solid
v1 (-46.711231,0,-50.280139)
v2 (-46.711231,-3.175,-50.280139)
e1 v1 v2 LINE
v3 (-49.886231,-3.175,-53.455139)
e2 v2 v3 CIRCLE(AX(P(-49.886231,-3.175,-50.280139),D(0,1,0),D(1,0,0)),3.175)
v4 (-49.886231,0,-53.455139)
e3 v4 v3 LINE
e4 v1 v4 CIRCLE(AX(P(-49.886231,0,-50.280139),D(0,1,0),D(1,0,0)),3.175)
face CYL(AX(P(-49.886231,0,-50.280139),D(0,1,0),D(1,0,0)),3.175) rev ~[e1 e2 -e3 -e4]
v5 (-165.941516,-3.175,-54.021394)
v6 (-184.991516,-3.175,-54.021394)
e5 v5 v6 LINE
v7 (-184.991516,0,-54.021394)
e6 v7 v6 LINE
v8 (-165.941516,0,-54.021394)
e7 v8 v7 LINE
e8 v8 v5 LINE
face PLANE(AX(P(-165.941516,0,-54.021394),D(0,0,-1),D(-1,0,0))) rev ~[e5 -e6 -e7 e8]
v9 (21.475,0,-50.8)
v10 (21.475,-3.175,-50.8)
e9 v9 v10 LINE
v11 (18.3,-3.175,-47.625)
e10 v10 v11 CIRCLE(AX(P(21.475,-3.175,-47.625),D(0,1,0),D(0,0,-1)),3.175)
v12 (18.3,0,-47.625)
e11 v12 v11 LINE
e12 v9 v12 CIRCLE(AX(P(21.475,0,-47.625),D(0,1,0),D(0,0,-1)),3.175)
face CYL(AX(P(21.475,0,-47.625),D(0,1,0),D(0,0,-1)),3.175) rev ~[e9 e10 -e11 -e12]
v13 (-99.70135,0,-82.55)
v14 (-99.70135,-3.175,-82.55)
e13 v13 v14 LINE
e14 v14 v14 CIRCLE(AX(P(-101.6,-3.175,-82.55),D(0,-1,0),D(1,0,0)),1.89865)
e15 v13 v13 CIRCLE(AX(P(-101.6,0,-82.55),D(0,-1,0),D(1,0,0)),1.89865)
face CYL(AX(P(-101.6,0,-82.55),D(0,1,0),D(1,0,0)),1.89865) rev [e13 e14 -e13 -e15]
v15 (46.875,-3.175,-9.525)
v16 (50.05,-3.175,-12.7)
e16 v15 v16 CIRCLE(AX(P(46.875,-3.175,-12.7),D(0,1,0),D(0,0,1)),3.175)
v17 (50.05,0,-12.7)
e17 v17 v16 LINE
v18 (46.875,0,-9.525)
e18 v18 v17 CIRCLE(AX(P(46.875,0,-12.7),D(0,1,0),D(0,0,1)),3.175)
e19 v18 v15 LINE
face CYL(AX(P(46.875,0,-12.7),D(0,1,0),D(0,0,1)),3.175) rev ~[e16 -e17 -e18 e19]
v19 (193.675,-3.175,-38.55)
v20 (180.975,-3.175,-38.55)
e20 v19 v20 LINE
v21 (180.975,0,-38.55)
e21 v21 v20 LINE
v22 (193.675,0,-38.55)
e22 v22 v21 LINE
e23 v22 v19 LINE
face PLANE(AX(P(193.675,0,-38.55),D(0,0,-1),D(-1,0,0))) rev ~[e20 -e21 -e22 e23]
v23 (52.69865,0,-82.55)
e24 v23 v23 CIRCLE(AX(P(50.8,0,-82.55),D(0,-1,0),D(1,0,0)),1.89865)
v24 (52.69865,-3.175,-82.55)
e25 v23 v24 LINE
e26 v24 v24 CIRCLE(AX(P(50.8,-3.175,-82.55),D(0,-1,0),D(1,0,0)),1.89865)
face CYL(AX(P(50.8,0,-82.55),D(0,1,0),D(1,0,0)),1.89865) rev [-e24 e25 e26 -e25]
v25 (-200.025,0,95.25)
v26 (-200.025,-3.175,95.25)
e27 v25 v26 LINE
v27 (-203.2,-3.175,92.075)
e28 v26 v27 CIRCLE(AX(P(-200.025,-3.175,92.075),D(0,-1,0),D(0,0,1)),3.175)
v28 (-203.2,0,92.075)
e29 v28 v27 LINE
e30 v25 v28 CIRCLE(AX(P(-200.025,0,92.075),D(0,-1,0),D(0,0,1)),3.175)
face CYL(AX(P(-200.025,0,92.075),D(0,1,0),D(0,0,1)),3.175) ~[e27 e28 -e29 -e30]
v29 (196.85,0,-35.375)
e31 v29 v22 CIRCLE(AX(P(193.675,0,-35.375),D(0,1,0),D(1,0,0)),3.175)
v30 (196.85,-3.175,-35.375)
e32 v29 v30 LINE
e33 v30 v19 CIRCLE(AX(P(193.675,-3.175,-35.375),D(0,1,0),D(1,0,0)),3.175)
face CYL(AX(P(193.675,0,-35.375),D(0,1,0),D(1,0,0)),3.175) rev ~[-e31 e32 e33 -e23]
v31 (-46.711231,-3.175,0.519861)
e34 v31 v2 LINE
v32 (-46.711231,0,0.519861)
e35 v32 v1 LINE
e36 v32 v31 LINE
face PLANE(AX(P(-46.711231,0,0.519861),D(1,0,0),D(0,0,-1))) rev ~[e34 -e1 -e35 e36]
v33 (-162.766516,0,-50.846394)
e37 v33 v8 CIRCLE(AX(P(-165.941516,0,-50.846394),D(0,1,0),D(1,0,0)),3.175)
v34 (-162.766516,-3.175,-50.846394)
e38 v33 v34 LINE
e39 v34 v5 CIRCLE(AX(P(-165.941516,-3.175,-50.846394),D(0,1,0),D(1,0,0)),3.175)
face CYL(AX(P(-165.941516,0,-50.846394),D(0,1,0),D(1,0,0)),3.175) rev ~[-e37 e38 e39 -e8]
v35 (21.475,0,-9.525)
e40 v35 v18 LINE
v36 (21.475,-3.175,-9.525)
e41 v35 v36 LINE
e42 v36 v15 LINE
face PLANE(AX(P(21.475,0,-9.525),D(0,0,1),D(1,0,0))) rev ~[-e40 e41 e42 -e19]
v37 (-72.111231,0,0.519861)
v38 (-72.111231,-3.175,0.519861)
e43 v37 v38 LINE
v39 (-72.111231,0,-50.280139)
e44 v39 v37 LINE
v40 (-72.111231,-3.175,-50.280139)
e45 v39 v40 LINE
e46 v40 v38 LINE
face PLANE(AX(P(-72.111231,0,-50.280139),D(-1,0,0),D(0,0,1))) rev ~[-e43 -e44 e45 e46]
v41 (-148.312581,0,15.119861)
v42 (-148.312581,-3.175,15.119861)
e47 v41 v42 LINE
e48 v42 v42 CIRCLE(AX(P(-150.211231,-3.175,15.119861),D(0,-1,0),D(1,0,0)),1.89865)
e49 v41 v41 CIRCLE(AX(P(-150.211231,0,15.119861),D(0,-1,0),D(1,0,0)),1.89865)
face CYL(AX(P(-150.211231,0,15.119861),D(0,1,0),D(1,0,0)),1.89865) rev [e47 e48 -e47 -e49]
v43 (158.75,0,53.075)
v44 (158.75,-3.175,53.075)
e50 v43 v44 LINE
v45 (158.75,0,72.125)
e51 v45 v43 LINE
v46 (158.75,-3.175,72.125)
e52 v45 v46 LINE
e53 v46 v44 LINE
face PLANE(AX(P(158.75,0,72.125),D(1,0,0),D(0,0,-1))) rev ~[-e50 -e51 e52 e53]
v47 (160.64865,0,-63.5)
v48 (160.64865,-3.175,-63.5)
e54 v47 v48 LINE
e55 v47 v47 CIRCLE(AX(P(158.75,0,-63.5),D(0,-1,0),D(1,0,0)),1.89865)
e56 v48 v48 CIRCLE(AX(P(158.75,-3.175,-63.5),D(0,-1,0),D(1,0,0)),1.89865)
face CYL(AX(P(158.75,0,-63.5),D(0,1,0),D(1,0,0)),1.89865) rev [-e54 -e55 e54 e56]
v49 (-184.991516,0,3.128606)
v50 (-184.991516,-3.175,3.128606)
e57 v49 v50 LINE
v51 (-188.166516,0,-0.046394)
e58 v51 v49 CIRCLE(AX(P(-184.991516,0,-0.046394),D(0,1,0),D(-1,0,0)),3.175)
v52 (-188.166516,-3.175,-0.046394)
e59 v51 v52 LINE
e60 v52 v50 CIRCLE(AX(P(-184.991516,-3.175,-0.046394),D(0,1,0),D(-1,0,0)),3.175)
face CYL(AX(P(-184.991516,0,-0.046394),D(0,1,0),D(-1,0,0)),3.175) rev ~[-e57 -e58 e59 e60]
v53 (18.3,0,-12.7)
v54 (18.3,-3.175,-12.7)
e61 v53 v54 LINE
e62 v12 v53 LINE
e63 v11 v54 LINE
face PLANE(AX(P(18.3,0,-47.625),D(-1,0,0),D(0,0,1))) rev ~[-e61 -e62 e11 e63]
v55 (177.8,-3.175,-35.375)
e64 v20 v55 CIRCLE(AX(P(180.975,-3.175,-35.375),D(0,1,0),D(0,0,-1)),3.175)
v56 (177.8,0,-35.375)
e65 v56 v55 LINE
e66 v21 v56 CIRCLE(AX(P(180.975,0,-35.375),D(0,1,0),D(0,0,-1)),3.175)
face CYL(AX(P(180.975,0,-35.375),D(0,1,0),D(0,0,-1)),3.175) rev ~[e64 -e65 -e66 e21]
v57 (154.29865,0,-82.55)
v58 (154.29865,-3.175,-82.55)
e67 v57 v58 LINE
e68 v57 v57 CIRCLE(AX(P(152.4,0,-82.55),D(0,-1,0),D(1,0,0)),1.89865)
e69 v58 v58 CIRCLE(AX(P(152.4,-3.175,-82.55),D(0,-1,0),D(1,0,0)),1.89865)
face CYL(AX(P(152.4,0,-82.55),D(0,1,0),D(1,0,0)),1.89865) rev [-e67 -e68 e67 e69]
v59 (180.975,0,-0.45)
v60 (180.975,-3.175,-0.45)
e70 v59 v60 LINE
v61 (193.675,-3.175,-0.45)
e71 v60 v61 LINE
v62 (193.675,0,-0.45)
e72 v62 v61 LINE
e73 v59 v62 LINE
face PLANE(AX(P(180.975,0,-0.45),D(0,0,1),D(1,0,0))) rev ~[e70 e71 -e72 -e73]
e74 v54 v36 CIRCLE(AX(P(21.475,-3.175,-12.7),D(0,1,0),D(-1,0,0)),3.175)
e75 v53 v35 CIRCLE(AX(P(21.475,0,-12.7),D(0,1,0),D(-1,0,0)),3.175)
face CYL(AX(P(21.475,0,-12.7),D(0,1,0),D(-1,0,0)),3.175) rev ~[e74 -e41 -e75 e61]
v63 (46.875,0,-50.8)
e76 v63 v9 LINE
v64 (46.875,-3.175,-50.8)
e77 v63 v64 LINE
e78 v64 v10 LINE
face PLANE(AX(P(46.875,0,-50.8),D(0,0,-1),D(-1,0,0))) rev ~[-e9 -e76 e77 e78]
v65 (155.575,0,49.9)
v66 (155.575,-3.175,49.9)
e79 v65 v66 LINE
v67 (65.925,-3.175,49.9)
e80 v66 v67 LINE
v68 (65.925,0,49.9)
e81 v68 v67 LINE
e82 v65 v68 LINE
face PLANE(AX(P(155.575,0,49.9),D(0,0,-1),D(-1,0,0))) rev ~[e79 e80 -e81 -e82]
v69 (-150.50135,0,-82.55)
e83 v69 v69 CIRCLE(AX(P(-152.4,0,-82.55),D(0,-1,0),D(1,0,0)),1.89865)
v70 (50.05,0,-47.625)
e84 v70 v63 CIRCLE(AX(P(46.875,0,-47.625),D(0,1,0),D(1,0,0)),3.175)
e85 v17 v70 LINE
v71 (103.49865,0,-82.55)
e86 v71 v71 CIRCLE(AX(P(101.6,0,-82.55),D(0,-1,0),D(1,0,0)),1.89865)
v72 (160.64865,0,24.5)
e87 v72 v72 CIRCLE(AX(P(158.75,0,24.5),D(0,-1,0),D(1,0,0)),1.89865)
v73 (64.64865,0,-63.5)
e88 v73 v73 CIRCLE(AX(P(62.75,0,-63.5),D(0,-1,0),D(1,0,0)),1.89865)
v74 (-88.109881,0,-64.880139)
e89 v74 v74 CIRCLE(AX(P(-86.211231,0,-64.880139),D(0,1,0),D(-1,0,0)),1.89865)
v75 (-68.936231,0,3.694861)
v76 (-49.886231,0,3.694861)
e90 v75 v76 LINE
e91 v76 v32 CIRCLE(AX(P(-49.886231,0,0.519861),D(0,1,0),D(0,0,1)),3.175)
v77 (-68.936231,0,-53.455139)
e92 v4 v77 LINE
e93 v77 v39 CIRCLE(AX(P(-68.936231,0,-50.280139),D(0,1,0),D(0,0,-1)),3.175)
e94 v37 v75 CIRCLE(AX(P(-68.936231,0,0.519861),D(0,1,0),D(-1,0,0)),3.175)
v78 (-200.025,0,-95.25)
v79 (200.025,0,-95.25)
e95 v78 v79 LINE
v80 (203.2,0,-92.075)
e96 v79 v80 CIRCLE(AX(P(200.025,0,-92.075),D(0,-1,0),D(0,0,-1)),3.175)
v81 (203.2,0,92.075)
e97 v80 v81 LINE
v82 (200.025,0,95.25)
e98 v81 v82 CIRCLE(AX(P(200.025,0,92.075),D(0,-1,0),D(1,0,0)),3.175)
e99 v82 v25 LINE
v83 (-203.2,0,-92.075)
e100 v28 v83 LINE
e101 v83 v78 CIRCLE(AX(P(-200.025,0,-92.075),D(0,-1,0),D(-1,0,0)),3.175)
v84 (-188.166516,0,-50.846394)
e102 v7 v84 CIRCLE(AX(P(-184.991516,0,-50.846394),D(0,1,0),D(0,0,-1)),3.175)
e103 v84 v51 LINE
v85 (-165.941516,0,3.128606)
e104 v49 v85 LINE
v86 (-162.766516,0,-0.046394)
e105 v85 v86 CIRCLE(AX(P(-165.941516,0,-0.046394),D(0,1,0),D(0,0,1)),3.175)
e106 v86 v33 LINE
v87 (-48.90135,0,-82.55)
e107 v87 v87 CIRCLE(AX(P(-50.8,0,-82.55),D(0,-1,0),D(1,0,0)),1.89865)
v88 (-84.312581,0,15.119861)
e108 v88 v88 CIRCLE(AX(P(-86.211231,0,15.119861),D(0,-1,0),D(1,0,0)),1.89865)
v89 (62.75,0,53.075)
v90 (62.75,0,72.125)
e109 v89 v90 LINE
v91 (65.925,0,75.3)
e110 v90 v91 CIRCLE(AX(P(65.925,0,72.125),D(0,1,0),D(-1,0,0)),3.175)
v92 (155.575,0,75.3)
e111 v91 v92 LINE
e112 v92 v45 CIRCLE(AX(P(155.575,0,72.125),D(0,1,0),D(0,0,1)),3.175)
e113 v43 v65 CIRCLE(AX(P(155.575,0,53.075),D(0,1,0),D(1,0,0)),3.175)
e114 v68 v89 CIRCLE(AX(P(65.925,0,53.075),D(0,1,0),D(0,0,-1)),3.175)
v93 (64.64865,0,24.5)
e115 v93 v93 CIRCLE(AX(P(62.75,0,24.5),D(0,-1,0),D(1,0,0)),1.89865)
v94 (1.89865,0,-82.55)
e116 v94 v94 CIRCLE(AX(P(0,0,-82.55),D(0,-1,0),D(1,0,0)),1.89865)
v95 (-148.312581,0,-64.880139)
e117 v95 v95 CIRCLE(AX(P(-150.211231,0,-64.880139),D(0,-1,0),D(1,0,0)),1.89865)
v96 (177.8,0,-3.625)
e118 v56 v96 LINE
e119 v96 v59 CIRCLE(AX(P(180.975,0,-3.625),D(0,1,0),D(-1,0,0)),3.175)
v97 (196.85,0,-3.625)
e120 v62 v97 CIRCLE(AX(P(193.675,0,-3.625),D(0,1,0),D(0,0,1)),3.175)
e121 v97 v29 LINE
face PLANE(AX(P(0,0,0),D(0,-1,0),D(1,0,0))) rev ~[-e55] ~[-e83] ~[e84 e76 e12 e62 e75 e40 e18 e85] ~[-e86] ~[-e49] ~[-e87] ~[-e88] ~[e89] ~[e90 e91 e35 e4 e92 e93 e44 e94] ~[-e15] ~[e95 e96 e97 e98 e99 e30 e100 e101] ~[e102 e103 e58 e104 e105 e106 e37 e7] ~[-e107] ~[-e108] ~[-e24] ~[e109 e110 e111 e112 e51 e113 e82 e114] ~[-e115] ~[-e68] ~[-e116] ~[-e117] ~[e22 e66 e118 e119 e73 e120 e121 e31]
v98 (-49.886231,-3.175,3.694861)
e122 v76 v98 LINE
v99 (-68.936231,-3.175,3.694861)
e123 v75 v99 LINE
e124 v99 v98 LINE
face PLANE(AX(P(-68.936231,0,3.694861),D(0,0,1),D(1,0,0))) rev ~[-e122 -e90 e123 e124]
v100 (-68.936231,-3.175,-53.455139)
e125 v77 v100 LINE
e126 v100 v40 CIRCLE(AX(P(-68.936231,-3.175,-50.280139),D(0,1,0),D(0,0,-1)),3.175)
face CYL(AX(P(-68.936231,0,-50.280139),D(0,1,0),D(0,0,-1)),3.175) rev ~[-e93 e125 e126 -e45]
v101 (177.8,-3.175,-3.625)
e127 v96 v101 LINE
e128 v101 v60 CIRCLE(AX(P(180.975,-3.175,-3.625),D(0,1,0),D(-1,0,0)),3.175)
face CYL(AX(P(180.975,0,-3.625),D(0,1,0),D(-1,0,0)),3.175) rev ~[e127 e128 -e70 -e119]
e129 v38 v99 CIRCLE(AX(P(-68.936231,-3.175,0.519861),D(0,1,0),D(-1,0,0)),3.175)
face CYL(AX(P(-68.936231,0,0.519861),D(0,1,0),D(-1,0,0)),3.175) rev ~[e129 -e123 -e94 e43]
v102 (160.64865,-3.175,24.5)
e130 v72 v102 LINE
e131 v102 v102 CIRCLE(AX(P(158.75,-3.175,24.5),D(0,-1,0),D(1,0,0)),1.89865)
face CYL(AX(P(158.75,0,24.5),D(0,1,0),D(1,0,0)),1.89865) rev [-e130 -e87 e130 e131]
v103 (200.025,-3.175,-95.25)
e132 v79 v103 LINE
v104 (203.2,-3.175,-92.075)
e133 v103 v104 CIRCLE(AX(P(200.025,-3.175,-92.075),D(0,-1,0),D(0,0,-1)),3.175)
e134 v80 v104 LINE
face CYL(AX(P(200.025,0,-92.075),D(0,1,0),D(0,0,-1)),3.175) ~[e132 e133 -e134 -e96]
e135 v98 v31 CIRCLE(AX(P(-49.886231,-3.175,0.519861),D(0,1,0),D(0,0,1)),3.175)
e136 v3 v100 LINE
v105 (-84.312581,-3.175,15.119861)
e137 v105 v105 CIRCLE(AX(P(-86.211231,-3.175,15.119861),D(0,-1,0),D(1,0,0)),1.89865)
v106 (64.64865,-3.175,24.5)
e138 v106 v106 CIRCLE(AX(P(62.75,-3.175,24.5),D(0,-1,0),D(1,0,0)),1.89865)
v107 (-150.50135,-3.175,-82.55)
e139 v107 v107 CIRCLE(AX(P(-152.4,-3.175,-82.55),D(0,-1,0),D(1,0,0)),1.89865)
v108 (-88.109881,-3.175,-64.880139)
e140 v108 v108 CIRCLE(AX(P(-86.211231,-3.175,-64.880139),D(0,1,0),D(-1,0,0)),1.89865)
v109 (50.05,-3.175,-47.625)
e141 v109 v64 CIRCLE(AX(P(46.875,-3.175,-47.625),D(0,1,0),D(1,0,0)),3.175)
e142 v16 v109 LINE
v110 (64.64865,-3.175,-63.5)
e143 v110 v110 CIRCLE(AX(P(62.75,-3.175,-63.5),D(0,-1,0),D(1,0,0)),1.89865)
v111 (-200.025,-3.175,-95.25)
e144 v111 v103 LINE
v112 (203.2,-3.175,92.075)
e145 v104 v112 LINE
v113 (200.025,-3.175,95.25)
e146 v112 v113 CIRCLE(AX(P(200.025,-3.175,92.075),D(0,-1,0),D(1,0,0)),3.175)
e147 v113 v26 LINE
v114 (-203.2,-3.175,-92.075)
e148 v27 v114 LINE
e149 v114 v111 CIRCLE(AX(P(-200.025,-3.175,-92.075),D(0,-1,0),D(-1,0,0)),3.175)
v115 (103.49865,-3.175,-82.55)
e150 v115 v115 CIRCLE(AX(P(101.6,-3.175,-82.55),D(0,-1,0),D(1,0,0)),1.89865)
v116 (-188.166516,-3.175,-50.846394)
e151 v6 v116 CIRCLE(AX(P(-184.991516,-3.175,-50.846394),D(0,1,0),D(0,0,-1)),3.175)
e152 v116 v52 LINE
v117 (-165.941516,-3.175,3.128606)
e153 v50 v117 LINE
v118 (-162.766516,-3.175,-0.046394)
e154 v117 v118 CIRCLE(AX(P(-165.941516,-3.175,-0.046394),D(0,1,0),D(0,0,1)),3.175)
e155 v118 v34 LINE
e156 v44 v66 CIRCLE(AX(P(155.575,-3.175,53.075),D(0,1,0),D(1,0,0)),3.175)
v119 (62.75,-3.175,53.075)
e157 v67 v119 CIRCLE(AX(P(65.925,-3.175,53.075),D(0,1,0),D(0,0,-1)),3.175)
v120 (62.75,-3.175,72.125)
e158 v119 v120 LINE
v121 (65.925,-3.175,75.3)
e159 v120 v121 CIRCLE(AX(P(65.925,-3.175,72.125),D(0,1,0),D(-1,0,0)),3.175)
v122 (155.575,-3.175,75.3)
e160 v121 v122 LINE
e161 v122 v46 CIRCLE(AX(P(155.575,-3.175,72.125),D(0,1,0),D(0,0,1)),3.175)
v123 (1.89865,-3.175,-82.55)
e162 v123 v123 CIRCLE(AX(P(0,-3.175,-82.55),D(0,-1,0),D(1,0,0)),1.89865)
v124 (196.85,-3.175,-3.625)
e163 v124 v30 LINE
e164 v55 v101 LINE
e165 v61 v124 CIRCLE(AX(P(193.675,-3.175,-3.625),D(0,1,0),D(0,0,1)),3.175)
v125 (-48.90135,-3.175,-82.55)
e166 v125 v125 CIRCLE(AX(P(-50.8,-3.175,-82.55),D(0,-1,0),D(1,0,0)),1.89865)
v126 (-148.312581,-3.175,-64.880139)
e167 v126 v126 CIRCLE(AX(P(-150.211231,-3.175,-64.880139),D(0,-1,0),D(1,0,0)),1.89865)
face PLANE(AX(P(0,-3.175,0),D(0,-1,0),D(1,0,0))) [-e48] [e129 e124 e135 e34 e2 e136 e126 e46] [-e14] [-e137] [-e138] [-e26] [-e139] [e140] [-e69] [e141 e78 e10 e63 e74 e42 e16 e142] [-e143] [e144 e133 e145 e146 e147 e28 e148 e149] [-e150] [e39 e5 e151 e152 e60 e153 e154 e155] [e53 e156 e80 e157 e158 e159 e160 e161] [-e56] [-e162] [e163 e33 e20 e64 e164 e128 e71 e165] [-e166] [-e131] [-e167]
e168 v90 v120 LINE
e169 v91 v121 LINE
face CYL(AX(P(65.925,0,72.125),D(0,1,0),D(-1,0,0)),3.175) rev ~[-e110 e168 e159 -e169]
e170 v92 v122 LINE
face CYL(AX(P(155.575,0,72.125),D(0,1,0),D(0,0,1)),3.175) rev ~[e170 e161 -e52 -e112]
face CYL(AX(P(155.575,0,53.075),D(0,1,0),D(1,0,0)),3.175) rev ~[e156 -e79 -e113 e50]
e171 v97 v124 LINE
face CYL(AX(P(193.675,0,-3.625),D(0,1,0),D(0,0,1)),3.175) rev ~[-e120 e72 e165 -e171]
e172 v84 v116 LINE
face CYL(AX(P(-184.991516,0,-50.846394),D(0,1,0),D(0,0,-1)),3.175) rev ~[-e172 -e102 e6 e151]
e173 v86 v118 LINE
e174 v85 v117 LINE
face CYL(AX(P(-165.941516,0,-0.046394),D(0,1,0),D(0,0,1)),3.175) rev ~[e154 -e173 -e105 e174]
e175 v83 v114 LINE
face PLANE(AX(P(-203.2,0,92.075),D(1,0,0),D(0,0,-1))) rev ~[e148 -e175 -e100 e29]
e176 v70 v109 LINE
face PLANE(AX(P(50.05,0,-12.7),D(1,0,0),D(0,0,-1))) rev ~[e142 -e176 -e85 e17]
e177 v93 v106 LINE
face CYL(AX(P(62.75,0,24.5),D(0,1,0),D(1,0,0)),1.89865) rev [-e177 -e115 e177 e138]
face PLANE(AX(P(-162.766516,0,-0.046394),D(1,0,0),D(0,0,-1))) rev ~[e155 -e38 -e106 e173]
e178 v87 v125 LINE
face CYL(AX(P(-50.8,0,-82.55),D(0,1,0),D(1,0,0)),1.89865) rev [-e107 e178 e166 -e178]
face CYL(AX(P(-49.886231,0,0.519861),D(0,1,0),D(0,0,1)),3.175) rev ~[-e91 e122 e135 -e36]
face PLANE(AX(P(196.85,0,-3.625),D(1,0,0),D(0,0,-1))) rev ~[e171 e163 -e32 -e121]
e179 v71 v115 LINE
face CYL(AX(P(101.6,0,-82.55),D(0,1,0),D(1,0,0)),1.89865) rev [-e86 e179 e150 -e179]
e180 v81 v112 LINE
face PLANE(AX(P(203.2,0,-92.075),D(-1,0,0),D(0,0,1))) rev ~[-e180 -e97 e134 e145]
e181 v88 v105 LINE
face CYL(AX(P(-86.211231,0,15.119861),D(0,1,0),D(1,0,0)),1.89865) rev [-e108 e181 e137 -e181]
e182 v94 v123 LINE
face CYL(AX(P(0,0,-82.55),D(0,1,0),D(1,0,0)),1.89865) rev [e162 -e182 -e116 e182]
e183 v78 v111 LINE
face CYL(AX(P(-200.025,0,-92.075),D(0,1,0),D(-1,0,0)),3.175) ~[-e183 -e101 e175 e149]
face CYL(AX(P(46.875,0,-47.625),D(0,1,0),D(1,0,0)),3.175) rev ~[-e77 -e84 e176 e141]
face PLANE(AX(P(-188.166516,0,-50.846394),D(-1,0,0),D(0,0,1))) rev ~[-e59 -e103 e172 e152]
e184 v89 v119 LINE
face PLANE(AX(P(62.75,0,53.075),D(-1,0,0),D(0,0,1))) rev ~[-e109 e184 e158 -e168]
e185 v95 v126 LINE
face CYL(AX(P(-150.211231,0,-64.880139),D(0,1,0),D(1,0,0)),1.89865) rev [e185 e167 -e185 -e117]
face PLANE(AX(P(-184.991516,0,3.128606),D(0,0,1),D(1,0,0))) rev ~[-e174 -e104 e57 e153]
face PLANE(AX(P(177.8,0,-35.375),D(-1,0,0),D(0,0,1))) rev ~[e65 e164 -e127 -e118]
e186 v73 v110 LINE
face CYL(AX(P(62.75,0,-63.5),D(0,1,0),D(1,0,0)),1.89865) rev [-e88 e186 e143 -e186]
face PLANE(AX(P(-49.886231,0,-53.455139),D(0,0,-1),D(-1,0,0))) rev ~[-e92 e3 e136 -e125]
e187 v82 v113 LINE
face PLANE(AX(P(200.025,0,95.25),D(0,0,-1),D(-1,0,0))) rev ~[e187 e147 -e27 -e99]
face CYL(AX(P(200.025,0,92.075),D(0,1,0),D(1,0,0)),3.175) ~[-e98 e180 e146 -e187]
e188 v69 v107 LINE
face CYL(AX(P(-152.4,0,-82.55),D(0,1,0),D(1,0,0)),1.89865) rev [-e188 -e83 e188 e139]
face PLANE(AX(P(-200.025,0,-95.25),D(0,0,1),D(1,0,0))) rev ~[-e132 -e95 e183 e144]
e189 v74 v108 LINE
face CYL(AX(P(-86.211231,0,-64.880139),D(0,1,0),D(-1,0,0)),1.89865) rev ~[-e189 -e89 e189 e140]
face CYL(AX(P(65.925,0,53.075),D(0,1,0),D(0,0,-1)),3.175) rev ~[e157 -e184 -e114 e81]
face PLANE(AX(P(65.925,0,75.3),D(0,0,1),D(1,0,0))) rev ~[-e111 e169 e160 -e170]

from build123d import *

# Parameters (mm, degrees)
F0_R     = 1.89865
F1_DEPTH = 3.175


with BuildPart() as f1:
    # F0 (on Front) → F1 (new body)
    with BuildSketch(Plane.XZ):
        with BuildLine():
            Line((200.025, 95.25), (-200.025, 95.25))
            ThreePointArc((-200.025, 95.25), (-202.2700640303, 94.3200640303), (-203.2, 92.075))
            Line((-203.2, 92.075), (-203.2, -92.075))
            ThreePointArc((-203.2, -92.075), (-202.2700640303, -94.3200640303), (-200.025, -95.25))
            Line((-200.025, -95.25), (200.025, -95.25))
            ThreePointArc((200.025, -95.25), (202.2700640303, -94.3200640303), (203.2, -92.075))
            Line((203.2, -92.075), (203.2, 92.075))
            ThreePointArc((203.2, 92.075), (202.2700640303, 94.3200640303), (200.025, 95.25))
        make_face()
        with Locations((-152.4, -82.55)):
            Circle(F0_R, mode=Mode.SUBTRACT)
        with Locations((-101.6, -82.55)):
            Circle(F0_R, mode=Mode.SUBTRACT)
        with Locations((-150.2112307024, -64.8801388249)):
            Circle(F0_R, mode=Mode.SUBTRACT)
        with Locations((-50.8, -82.55)):
            Circle(F0_R, mode=Mode.SUBTRACT)
        with Locations((0, -82.55)):
            Circle(F0_R, mode=Mode.SUBTRACT)
        with BuildLine():
            ThreePointArc((-84.3125807024, -64.8801388249), (-86.2112307024, -66.7787888249), (-88.1098807024, -64.8801388249))
            ThreePointArc((-88.1098807024, -64.8801388249), (-86.2112307024, -62.9814888249), (-84.3125807024, -64.8801388249))
        make_face(mode=Mode.SUBTRACT)
        with BuildLine():
            ThreePointArc((-188.1665156039, -0.0463944584), (-187.2365796342, 2.1986695719), (-184.9915156039, 3.1286055416))
            Line((-184.9915156039, 3.1286055416), (-165.9415156039, 3.1286055416))
            ThreePointArc((-165.9415156039, 3.1286055416), (-163.6964515737, 2.1986695719), (-162.7665156039, -0.0463944584))
            Line((-162.7665156039, -0.0463944584), (-162.7665156039, -50.8463944584))
            ThreePointArc((-162.7665156039, -50.8463944584), (-163.6964515737, -53.0914584887), (-165.9415156039, -54.0213944584))
            Line((-165.9415156039, -54.0213944584), (-184.9915156039, -54.0213944584))
            ThreePointArc((-184.9915156039, -54.0213944584), (-187.2365796342, -53.0914584887), (-188.1665156039, -50.8463944584))
            Line((-188.1665156039, -50.8463944584), (-188.1665156039, -0.0463944584))
        make_face(mode=Mode.SUBTRACT)
        with BuildLine():
            ThreePointArc((-72.1112307024, 0.5198611751), (-71.1812947327, 2.7649252054), (-68.9362307024, 3.6948611751))
            Line((-68.9362307024, 3.6948611751), (-49.8862307024, 3.6948611751))
            ThreePointArc((-49.8862307024, 3.6948611751), (-47.6411666721, 2.7649252054), (-46.7112307024, 0.5198611751))
            Line((-46.7112307024, 0.5198611751), (-46.7112307024, -50.2801388249))
            ThreePointArc((-46.7112307024, -50.2801388249), (-47.6411666721, -52.5252028551), (-49.8862307024, -53.4551388249))
            Line((-49.8862307024, -53.4551388249), (-68.9362307024, -53.4551388249))
            ThreePointArc((-68.9362307024, -53.4551388249), (-71.1812947327, -52.5252028551), (-72.1112307024, -50.2801388249))
            Line((-72.1112307024, -50.2801388249), (-72.1112307024, 0.5198611751))
        make_face(mode=Mode.SUBTRACT)
        with Locations((50.8, -82.55)):
            Circle(F0_R, mode=Mode.SUBTRACT)
        with Locations((101.6, -82.55)):
            Circle(F0_R, mode=Mode.SUBTRACT)
        with Locations((62.75, -63.5)):
            Circle(F0_R, mode=Mode.SUBTRACT)
        with Locations((152.4, -82.55)):
            Circle(F0_R, mode=Mode.SUBTRACT)
        with Locations((158.75, -63.5)):
            Circle(F0_R, mode=Mode.SUBTRACT)
        with BuildLine():
            ThreePointArc((18.3, -12.7), (19.2299359697, -10.4549359697), (21.475, -9.525))
            Line((21.475, -9.525), (46.875, -9.525))
            ThreePointArc((46.875, -9.525), (49.1200640303, -10.4549359697), (50.05, -12.7))
            Line((50.05, -12.7), (50.05, -47.625))
            ThreePointArc((50.05, -47.625), (49.1200640303, -49.8700640303), (46.875, -50.8))
            Line((46.875, -50.8), (21.475, -50.8))
            ThreePointArc((21.475, -50.8), (19.2299359697, -49.8700640303), (18.3, -47.625))
            Line((18.3, -47.625), (18.3, -12.7))
        make_face(mode=Mode.SUBTRACT)
        with BuildLine():
            ThreePointArc((196.85, -35.375), (195.9200640303, -37.6200640303), (193.675, -38.55))
            Line((193.675, -38.55), (180.975, -38.55))
            ThreePointArc((180.975, -38.55), (178.7299359697, -37.6200640303), (177.8, -35.375))
            Line((177.8, -35.375), (177.8, -3.625))
            ThreePointArc((177.8, -3.625), (178.7299359697, -1.3799359697), (180.975, -0.45))
            Line((180.975, -0.45), (193.675, -0.45))
            ThreePointArc((193.675, -0.45), (195.9200640303, -1.3799359697), (196.85, -3.625))
            Line((196.85, -3.625), (196.85, -35.375))
        make_face(mode=Mode.SUBTRACT)
        with Locations((-150.2112307024, 15.1198611751)):
            Circle(F0_R, mode=Mode.SUBTRACT)
        with Locations((-86.2112307024, 15.1198611751)):
            Circle(F0_R, mode=Mode.SUBTRACT)
        with Locations((62.75, 24.5)):
            Circle(F0_R, mode=Mode.SUBTRACT)
        with Locations((158.75, 24.5)):
            Circle(F0_R, mode=Mode.SUBTRACT)
        with BuildLine():
            Line((155.575, 49.9), (65.925, 49.9))
            ThreePointArc((65.925, 49.9), (63.6799359697, 50.8299359697), (62.75, 53.075))
            Line((62.75, 53.075), (62.75, 72.125))
            ThreePointArc((62.75, 72.125), (63.6799359697, 74.3700640303), (65.925, 75.3))
            Line((65.925, 75.3), (155.575, 75.3))
            ThreePointArc((155.575, 75.3), (157.8200640303, 74.3700640303), (158.75, 72.125))
            Line((158.75, 72.125), (158.75, 53.075))
            ThreePointArc((158.75, 53.075), (157.8200640303, 50.8299359697), (155.575, 49.9))
        make_face(mode=Mode.SUBTRACT)
    extrude(amount=F1_DEPTH)


solid = f1.part
